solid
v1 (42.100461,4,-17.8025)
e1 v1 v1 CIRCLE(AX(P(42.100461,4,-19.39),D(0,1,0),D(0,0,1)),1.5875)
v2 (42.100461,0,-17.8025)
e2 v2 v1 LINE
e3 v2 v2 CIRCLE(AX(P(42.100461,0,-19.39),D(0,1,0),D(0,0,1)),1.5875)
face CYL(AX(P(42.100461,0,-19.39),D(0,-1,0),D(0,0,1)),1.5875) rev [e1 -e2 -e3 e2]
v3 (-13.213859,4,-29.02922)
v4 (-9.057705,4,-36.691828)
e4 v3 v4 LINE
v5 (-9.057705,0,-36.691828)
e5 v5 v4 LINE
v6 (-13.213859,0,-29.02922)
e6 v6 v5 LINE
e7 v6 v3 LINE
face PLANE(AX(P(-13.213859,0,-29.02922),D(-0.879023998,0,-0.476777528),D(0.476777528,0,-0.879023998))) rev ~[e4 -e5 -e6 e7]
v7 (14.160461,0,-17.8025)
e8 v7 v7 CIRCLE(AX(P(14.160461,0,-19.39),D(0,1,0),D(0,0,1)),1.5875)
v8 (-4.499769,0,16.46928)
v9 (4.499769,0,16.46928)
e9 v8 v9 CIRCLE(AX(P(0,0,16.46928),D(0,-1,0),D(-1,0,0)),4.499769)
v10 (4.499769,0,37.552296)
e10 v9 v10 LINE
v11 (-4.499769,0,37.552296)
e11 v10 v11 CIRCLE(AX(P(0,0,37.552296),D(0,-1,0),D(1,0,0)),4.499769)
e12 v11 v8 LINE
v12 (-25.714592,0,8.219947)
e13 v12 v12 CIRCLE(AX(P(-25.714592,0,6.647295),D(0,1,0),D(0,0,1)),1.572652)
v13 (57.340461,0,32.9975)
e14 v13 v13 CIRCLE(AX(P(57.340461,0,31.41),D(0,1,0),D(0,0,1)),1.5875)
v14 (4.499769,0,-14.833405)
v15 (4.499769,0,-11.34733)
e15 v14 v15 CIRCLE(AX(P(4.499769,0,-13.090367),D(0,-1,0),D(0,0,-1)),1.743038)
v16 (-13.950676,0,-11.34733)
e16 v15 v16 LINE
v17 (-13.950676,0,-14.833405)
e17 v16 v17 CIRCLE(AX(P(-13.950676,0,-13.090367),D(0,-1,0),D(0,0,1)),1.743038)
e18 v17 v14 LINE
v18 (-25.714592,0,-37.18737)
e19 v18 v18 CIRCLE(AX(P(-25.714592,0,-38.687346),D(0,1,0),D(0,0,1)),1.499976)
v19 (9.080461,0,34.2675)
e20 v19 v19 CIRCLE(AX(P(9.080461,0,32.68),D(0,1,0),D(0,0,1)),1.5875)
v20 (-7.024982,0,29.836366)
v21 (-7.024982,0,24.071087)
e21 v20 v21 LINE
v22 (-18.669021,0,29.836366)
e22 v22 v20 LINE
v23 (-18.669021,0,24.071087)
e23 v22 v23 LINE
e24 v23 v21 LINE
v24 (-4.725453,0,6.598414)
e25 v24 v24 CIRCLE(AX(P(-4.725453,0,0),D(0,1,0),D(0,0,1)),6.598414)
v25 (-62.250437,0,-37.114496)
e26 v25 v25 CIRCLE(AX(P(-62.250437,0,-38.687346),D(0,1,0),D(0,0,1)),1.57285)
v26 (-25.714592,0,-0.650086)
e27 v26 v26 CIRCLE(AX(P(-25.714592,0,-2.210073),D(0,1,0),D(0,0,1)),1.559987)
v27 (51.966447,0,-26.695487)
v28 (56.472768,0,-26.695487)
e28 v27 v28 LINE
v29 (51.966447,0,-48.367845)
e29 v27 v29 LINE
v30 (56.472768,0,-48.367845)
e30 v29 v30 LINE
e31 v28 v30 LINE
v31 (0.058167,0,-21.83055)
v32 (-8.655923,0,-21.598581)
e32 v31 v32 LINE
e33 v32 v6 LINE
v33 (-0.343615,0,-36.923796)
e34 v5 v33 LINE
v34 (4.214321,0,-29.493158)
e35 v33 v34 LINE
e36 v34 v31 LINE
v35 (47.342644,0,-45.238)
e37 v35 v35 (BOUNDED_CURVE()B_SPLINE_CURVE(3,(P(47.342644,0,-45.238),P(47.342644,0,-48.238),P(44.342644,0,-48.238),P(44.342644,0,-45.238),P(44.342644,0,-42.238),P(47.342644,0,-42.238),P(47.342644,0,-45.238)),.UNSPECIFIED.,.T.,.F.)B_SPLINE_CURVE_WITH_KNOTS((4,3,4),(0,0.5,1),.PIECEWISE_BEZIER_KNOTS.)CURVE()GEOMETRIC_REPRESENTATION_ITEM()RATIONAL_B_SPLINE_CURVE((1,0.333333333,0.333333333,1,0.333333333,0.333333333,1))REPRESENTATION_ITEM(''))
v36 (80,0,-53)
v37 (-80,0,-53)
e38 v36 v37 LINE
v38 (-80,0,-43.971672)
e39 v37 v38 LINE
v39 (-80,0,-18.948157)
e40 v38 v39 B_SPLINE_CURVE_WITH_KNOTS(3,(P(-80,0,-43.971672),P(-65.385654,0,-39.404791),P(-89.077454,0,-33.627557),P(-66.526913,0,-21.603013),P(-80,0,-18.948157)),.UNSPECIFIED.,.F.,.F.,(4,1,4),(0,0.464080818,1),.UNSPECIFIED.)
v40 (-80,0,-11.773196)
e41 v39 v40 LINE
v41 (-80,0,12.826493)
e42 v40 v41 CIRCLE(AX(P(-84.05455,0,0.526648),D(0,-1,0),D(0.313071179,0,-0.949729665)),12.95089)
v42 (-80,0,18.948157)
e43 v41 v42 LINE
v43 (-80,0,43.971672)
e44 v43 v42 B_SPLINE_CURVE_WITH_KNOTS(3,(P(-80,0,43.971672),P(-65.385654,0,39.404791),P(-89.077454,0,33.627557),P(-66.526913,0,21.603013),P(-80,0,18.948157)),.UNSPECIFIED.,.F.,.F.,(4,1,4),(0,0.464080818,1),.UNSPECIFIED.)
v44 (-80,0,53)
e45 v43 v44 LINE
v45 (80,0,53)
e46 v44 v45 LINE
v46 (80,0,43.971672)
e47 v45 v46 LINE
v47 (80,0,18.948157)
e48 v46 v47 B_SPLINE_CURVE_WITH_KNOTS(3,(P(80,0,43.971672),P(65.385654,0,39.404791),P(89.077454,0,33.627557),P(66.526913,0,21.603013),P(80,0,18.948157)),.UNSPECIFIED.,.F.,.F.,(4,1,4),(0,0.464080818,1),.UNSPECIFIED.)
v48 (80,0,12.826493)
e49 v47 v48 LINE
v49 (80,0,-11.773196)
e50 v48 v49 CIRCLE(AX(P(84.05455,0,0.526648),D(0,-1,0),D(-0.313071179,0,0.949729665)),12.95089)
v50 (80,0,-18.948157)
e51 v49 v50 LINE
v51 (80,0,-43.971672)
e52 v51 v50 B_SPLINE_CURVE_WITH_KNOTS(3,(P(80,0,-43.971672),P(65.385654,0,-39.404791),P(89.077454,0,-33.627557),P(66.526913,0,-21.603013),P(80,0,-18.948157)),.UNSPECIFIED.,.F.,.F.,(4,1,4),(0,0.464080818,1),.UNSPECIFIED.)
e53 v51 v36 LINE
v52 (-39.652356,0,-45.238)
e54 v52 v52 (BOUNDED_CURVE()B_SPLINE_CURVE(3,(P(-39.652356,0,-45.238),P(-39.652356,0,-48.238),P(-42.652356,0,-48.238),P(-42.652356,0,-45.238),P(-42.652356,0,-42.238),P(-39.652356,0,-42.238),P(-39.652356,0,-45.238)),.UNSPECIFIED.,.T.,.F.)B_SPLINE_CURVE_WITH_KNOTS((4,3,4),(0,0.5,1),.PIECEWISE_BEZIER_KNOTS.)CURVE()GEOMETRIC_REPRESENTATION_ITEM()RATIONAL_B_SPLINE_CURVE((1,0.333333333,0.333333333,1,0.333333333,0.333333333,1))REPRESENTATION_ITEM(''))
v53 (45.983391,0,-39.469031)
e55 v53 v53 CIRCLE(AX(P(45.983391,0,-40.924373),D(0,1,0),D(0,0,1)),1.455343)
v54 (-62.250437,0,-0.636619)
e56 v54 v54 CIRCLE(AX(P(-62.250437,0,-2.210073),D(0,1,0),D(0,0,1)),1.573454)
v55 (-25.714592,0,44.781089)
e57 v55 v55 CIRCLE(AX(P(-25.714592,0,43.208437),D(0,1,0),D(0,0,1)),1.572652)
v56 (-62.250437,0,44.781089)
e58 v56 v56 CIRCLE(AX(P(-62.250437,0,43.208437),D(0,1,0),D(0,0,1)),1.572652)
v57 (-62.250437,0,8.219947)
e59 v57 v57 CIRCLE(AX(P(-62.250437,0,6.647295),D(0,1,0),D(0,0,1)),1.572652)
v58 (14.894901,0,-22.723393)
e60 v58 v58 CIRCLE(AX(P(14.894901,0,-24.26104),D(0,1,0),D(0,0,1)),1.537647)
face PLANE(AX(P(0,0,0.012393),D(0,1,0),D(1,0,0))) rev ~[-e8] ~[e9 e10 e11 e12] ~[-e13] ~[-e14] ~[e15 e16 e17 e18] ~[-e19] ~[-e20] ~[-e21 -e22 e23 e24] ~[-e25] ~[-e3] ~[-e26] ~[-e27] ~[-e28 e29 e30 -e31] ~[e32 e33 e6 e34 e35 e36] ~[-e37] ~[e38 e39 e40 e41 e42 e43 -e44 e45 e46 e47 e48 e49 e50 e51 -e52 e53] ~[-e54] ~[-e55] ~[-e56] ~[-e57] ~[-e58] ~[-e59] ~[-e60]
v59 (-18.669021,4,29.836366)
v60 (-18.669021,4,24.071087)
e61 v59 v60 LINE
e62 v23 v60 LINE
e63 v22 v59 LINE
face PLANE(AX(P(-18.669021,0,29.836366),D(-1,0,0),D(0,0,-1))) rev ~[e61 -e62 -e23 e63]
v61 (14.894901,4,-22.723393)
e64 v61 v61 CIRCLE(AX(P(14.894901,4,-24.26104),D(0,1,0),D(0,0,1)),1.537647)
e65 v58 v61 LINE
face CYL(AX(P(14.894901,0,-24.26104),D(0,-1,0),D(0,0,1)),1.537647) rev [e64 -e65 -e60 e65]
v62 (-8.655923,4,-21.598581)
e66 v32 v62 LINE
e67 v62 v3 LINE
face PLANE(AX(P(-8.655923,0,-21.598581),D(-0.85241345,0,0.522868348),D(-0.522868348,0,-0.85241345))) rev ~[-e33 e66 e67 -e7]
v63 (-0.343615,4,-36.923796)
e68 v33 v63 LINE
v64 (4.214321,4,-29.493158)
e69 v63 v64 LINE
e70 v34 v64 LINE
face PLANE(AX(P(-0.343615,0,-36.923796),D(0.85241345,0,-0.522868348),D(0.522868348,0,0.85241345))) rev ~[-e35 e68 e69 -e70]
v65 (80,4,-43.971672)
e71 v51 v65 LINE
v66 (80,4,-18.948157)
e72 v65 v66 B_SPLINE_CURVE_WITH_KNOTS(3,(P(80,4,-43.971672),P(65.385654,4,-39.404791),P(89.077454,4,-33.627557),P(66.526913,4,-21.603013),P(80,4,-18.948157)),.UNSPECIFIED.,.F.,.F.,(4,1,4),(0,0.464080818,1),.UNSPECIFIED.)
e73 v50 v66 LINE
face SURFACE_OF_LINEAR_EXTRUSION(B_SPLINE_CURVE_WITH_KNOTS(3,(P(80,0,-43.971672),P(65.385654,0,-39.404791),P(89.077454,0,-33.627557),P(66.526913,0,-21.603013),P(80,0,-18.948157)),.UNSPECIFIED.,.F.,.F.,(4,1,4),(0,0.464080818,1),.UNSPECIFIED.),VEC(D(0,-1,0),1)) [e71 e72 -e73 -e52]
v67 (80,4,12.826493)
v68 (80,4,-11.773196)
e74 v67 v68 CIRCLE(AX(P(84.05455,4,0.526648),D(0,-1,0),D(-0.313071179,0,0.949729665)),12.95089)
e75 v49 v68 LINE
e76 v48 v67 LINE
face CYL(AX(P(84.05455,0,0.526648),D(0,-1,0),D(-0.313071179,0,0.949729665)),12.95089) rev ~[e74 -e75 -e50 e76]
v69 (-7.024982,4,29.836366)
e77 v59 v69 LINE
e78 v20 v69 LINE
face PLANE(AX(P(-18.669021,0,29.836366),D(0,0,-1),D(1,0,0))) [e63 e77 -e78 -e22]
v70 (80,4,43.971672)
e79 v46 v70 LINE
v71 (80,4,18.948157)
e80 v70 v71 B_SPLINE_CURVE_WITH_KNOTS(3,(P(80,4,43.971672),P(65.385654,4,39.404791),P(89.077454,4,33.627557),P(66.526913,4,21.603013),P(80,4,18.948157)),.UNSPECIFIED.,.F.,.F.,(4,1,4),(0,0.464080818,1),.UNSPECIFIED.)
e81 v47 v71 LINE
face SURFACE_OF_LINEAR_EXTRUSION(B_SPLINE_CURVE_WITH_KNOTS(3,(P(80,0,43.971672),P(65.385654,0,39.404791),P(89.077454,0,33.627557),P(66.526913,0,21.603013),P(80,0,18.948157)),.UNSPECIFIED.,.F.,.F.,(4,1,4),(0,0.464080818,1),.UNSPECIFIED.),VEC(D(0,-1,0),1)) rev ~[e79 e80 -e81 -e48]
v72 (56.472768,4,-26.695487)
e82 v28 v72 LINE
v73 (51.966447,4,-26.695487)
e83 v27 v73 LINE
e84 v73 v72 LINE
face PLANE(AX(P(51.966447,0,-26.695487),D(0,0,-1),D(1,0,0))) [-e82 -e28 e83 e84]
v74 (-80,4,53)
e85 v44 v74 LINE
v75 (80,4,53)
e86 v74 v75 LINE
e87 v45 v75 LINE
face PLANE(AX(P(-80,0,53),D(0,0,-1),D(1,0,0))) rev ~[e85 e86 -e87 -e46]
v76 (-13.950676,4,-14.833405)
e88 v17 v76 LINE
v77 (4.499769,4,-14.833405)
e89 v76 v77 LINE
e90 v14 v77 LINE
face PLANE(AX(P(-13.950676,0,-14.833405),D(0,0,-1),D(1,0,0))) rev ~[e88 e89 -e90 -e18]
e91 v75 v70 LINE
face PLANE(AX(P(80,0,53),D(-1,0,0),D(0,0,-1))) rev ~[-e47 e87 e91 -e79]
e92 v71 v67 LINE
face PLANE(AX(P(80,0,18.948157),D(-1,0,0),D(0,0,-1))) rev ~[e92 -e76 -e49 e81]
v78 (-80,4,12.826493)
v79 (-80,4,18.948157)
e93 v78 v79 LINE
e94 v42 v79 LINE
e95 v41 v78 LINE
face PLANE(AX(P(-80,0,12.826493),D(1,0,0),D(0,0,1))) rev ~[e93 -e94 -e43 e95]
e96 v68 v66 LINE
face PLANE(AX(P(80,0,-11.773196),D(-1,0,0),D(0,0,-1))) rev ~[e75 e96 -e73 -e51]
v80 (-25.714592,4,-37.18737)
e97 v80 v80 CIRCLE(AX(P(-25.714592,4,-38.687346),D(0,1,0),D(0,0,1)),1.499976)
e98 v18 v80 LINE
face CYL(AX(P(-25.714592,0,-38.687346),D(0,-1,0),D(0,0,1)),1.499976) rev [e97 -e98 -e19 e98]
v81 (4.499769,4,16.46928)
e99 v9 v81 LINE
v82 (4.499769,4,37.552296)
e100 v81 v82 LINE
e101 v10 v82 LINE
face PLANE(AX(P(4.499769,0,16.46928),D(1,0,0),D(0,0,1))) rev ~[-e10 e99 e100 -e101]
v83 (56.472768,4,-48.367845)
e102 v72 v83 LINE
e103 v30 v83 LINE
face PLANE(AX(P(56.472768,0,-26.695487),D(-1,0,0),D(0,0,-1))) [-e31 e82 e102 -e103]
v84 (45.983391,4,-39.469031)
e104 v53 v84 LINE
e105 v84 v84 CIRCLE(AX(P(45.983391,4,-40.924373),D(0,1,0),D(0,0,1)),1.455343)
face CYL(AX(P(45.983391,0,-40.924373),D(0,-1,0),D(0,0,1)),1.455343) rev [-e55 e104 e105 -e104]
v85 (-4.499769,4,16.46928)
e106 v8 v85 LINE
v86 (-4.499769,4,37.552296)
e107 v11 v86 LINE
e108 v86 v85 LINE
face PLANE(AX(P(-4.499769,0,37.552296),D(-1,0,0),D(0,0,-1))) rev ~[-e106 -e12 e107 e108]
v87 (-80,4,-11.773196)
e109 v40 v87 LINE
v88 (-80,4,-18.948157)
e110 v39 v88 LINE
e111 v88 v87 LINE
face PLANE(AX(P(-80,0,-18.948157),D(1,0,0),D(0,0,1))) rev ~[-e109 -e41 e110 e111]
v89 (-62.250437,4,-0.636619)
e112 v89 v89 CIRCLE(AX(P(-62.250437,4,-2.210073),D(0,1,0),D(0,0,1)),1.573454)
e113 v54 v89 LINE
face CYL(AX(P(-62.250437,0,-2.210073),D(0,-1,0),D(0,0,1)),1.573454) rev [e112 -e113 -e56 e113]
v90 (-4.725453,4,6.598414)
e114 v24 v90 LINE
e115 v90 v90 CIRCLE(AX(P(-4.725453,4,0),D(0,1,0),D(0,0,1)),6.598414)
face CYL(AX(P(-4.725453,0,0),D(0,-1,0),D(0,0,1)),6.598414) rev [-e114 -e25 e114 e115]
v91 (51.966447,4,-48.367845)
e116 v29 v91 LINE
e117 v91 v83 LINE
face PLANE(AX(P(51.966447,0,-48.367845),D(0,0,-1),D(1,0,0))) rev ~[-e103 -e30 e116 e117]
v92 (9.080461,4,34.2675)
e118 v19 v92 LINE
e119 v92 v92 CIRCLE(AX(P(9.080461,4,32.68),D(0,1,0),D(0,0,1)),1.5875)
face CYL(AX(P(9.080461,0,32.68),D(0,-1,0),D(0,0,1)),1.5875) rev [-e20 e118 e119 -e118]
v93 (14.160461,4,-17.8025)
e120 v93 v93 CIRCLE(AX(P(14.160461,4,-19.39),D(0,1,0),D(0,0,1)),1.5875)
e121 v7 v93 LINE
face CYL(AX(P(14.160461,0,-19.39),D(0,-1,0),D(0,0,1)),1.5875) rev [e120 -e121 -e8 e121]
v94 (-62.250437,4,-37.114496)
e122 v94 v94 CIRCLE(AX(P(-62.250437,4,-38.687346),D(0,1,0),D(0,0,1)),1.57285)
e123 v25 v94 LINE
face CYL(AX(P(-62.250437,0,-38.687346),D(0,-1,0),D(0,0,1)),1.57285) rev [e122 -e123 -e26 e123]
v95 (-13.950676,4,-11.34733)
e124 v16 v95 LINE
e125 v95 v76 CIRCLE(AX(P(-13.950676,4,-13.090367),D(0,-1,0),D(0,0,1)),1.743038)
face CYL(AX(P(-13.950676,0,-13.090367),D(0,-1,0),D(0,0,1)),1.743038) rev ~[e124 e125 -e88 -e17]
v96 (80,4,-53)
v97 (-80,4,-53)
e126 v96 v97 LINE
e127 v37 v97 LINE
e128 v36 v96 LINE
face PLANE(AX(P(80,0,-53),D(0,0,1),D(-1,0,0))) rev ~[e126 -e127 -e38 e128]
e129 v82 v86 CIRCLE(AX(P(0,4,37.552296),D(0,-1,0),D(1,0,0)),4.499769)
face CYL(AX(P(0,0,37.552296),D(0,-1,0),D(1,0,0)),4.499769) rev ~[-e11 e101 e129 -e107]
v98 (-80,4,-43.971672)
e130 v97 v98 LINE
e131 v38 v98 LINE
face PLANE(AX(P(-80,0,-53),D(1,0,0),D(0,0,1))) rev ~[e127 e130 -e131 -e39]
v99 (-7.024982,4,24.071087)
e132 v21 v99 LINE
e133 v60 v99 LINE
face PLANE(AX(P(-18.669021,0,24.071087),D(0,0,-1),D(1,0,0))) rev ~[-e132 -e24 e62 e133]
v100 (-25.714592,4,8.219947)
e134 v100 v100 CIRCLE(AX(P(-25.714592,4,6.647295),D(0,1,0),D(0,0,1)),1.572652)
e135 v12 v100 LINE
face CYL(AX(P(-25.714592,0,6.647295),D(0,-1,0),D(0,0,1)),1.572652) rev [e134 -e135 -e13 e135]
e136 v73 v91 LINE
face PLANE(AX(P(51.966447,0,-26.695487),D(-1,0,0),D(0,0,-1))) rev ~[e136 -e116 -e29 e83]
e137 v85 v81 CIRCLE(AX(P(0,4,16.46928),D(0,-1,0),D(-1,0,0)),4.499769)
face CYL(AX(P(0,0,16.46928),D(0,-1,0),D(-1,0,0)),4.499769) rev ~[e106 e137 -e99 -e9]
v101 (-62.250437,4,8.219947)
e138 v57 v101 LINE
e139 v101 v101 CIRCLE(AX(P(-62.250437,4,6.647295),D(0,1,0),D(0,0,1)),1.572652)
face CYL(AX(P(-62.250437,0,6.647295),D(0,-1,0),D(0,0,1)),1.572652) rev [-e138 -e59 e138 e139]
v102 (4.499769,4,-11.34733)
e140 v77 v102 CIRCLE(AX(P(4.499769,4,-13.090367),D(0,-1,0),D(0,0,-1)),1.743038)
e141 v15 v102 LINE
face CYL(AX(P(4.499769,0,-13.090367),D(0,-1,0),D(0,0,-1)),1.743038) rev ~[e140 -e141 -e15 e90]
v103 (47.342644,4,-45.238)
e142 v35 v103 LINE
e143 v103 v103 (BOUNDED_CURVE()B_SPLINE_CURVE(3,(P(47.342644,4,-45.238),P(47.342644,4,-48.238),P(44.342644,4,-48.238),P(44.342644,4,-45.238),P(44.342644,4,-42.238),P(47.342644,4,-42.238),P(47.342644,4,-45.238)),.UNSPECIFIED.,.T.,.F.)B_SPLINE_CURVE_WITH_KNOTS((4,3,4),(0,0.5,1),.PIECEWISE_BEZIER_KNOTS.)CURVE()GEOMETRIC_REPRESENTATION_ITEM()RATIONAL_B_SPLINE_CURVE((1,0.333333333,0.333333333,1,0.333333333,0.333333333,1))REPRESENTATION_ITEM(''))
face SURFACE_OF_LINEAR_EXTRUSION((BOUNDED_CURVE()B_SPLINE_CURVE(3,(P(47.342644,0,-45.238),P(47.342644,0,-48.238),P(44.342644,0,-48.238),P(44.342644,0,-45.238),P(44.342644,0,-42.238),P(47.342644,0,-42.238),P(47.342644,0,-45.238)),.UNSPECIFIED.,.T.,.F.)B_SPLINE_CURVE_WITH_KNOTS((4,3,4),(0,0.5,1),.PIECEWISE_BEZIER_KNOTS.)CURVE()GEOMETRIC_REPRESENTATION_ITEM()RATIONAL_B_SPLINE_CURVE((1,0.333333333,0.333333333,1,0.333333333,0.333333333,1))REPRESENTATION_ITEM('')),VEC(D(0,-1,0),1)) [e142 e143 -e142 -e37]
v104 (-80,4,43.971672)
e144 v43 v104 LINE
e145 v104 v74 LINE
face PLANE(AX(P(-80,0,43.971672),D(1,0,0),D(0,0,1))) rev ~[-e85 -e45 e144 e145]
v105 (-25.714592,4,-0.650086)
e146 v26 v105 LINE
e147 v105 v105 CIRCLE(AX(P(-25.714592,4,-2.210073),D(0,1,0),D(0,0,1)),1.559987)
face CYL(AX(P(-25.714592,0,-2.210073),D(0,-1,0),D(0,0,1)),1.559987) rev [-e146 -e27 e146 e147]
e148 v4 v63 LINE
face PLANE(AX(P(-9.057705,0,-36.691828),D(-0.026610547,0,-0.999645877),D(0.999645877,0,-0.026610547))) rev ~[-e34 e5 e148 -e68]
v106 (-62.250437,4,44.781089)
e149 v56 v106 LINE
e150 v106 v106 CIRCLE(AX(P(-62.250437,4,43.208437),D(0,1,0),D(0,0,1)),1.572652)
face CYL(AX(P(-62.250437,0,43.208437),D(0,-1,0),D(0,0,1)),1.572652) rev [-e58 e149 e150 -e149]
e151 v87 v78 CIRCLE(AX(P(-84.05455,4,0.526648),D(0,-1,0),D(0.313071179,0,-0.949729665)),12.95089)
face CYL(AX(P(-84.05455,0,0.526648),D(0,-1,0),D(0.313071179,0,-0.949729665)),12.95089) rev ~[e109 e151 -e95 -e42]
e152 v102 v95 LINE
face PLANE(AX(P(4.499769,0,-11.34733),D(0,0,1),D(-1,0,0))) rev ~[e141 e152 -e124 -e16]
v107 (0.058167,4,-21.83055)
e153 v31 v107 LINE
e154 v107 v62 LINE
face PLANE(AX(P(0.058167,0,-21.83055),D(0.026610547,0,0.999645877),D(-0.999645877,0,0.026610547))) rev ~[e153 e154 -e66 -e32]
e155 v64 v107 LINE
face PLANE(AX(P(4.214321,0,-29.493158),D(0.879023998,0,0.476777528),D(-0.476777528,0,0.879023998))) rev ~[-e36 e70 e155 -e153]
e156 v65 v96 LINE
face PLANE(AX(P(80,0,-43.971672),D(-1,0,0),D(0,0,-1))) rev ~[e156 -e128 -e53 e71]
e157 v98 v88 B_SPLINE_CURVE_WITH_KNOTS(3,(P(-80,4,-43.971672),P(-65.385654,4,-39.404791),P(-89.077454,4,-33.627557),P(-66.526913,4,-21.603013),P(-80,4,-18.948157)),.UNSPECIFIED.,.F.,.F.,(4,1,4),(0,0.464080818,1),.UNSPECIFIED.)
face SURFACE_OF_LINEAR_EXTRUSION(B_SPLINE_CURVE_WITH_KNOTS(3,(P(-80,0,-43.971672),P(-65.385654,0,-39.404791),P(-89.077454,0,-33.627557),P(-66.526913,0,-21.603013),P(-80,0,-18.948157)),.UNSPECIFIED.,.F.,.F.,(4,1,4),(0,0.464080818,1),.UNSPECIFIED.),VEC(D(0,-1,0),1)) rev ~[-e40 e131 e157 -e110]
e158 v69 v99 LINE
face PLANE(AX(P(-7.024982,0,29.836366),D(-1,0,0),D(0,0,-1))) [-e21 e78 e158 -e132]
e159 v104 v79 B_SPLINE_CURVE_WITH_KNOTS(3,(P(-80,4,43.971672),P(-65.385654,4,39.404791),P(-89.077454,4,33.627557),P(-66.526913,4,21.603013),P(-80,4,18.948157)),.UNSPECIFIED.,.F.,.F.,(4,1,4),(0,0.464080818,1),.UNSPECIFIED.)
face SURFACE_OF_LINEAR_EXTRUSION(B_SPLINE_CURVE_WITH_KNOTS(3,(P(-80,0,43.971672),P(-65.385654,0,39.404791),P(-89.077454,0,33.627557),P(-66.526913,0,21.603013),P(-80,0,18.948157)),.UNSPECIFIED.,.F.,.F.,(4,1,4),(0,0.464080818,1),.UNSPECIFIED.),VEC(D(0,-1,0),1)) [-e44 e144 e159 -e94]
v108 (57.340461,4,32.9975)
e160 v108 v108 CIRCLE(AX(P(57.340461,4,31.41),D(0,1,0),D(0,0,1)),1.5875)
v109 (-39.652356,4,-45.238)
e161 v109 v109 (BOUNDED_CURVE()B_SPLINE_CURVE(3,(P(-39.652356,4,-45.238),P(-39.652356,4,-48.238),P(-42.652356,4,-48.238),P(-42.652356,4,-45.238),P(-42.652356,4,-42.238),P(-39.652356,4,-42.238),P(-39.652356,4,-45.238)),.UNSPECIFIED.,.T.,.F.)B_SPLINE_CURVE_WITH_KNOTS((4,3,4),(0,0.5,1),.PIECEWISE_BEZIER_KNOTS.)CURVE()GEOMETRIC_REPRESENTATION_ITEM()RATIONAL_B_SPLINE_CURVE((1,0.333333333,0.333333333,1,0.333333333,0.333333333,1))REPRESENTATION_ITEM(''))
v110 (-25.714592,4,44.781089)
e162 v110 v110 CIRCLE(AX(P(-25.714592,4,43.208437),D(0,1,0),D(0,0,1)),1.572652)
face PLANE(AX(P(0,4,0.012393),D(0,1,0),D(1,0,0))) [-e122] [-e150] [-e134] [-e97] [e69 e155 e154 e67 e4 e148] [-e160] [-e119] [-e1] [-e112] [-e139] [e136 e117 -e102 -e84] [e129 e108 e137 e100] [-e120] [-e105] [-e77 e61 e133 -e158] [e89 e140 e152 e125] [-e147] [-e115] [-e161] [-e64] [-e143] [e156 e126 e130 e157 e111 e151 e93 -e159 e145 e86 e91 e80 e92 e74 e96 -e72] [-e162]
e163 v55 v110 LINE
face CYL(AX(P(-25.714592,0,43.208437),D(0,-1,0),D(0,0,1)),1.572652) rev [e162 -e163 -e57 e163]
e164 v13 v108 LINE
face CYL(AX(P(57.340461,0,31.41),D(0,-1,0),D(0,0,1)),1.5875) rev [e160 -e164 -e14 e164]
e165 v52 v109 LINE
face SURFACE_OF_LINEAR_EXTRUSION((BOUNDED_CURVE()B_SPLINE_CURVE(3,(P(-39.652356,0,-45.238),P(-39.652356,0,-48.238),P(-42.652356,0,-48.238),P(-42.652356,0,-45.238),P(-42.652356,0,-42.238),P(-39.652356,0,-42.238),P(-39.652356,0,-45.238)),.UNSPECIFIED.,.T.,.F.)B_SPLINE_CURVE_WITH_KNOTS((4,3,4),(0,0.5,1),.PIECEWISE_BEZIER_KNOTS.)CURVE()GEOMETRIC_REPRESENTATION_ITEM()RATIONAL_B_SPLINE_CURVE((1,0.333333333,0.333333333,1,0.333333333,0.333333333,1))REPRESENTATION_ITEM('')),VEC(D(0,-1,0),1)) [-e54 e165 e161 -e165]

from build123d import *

# Parameters (mm, degrees)
SKETCH1_R           = 1.572651685
SKETCH1_W           = 11.644038646
SKETCH1_H           = 5.765279756
SKETCH1_R_2         = 1.5875
SKETCH1_R_3         = 1.573453894
SKETCH1_R_4         = 1.559986851
SKETCH1_R_5         = 6.598413588
SKETCH1_R_6         = 1.572849618
SKETCH1_R_7         = 1.499975878
SKETCH1_R_8         = 1.537647246
SKETCH1_W_2         = 4.506321673
SKETCH1_H_2         = 21.672357955
SKETCH1_R_9         = 1.455342512
BOSS_EXTRUDE1_DEPTH = 4


with BuildPart() as part:
    # Sketch1 → Boss-Extrude1 (new body)
    with BuildSketch(Plane(origin=(0, 0, 0), x_dir=(1, 0, 0), z_dir=(0, 1, 0))):
        with BuildLine():
            Line((80, 43.971671866), (80, 53))
            Line((80, 53), (-80, 53))
            Line((-80, 53), (-80, 43.971671866))
            add(Edge.make_bspline(
                [(-80, 43.971671866), (-65.385653613, 39.40479143), (-89.077453909, 33.627557401), (-66.52691334, 21.603012731), (-80, 18.948157225)],
                knots=[0, 0, 0, 0, 0.464080818, 1, 1, 1, 1], degree=3))
            Line((-80, 18.948157225), (-80, 11.773195968))
            ThreePointArc((-80, 11.773195968), (-71.103660502, -0.526648314), (-80, -12.826492596))
            Line((-80, -12.826492596), (-80, -16.469279615))
            Line((-80, -16.469279615), (-80, -18.948157225))
            add(Edge.make_bspline(
                [(-80, -43.971671866), (-65.385653613, -39.40479143), (-89.077453909, -33.627557401), (-66.52691334, -21.603012731), (-80, -18.948157225)],
                knots=[0, 0, 0, 0, 0.464080818, 1, 1, 1, 1], degree=3))
            Line((-80, -43.971671866), (-80, -48.36784463))
            Line((-80, -48.36784463), (-80, -53))
            Line((-80, -53), (80, -53))
            Line((80, -53), (80, -43.971671866))
            add(Edge.make_bspline(
                [(80, -43.971671866), (65.385653613, -39.40479143), (89.077453909, -33.627557401), (66.52691334, -21.603012731), (80, -18.948157225)],
                knots=[0, 0, 0, 0, 0.464080818, 1, 1, 1, 1], degree=3))
            Line((80, -18.948157225), (80, -12.826492596))
            ThreePointArc((80, -12.826492596), (71.103660502, -0.526648314), (80, 11.773195968))
            Line((80, 11.773195968), (80, 18.948157225))
            add(Edge.make_bspline(
                [(80, 43.971671866), (65.385653613, 39.40479143), (89.077453909, 33.627557401), (66.52691334, 21.603012731), (80, 18.948157225)],
                knots=[0, 0, 0, 0, 0.464080818, 1, 1, 1, 1], degree=3))
        make_face()
        with Locations(Location((-62.250436779, -43.20843745, 0), (0, 0, 270))):
            Circle(SKETCH1_R, mode=Mode.SUBTRACT)
        with Locations(Location((-25.714592034, -43.20843745, 0), (0, 0, 270))):
            Circle(SKETCH1_R, mode=Mode.SUBTRACT)
        with Locations((-12.847001436, -26.953726478)):
            Rectangle(SKETCH1_W, SKETCH1_H, mode=Mode.SUBTRACT)
        with Locations(Location((-62.250436779, -6.647294825, 0), (0, 0, 270))):
            Circle(SKETCH1_R, mode=Mode.SUBTRACT)
        with Locations(Location((-25.714592034, -6.647294825, 0), (0, 0, 270))):
            Circle(SKETCH1_R, mode=Mode.SUBTRACT)
        with Locations(Location((9.080460795, -32.68, 0), (0, 0, 270))):
            Circle(SKETCH1_R_2, mode=Mode.SUBTRACT)
        with BuildLine():
            ThreePointArc((4.499768913, -37.552295579), (0, -42.052064492), (-4.499768913, -37.552295579))
            Line((-4.499768913, -37.552295579), (-4.499768913, -16.469279615))
            ThreePointArc((-4.499768913, -16.469279615), (0, -11.969510703), (4.499768913, -16.469279615))
            Line((4.499768913, -16.469279615), (4.499768913, -37.552295579))
        make_face(mode=Mode.SUBTRACT)
        with Locations(Location((57.340460795, -31.41, 0), (0, 0, 270))):
            Circle(SKETCH1_R_2, mode=Mode.SUBTRACT)
        with Locations(Location((-62.250436779, 2.210073291, 0), (0, 0, 270))):
            Circle(SKETCH1_R_3, mode=Mode.SUBTRACT)
        with Locations(Location((-25.714592034, 2.210073291, 0), (0, 0, 270))):
            Circle(SKETCH1_R_4, mode=Mode.SUBTRACT)
        with Locations(Location((-4.725453474, 0, 0), (0, 0, 270))):
            Circle(SKETCH1_R_5, mode=Mode.SUBTRACT)
        with BuildLine():
            ThreePointArc((4.499768913, 14.833404805), (6.242806414, 13.090367304), (4.499768913, 11.347329803))
            Line((4.499768913, 11.347329803), (-13.950675862, 11.347329803))
            ThreePointArc((-13.950675862, 11.347329803), (-15.693713363, 13.090367304), (-13.950675862, 14.833404805))
            Line((-13.950675862, 14.833404805), (4.499768913, 14.833404805))
        make_face(mode=Mode.SUBTRACT)
        with Locations(Location((-62.250436779, 38.687345787, 0), (0, 0, 270))):
            Circle(SKETCH1_R_6, mode=Mode.SUBTRACT)
        with BuildLine():
            add(Edge.make_bspline(
                [(-39.652356334, 45.238000012), (-39.652356334, 48.238000012), (-42.652356334, 48.238000012), (-42.652356334, 45.238000012), (-42.652356334, 42.238000012), (-39.652356334, 42.238000012), (-39.652356334, 45.238000012)],
                knots=[0, 0, 0, 0, 0.5, 0.5, 0.5, 1, 1, 1, 1], degree=3, weights=[1, 0.333333333, 0.333333333, 1, 0.333333333, 0.333333333, 1]))
        make_face(mode=Mode.SUBTRACT)
        with Locations(Location((-25.714592034, 38.687345787, 0), (0, 0, 270))):
            Circle(SKETCH1_R_7, mode=Mode.SUBTRACT)
        Polygon((0.058166934, 21.830550018), (-8.655922933, 21.598581172), (-13.21385878, 29.029219944), (-9.05770476, 36.691827563), (-0.343614893, 36.923796409), (4.214320954, 29.493157636), align=None, mode=Mode.SUBTRACT)
        with Locations(Location((14.160460795, 19.39, 0), (0, 0, 270))):
            Circle(SKETCH1_R_2, mode=Mode.SUBTRACT)
        with Locations(Location((14.894900679, 24.261040082, 0), (0, 0, 270))):
            Circle(SKETCH1_R_8, mode=Mode.SUBTRACT)
        with Locations(Location((42.100460795, 19.39, 0), (0, 0, 270))):
            Circle(SKETCH1_R_2, mode=Mode.SUBTRACT)
        with Locations((54.219607529, 37.531665653)):
            Rectangle(SKETCH1_W_2, SKETCH1_H_2, mode=Mode.SUBTRACT)
        with Locations(Location((45.983391129, 40.924373364, 0), (0, 0, 270))):
            Circle(SKETCH1_R_9, mode=Mode.SUBTRACT)
        with BuildLine():
            add(Edge.make_bspline(
                [(47.342643666, 45.238000012), (47.342643666, 48.238000012), (44.342643666, 48.238000012), (44.342643666, 45.238000012), (44.342643666, 42.238000012), (47.342643666, 42.238000012), (47.342643666, 45.238000012)],
                knots=[0, 0, 0, 0, 0.5, 0.5, 0.5, 1, 1, 1, 1], degree=3, weights=[1, 0.333333333, 0.333333333, 1, 0.333333333, 0.333333333, 1]))
        make_face(mode=Mode.SUBTRACT)
    extrude(amount=BOSS_EXTRUDE1_DEPTH)


solid = part.part
